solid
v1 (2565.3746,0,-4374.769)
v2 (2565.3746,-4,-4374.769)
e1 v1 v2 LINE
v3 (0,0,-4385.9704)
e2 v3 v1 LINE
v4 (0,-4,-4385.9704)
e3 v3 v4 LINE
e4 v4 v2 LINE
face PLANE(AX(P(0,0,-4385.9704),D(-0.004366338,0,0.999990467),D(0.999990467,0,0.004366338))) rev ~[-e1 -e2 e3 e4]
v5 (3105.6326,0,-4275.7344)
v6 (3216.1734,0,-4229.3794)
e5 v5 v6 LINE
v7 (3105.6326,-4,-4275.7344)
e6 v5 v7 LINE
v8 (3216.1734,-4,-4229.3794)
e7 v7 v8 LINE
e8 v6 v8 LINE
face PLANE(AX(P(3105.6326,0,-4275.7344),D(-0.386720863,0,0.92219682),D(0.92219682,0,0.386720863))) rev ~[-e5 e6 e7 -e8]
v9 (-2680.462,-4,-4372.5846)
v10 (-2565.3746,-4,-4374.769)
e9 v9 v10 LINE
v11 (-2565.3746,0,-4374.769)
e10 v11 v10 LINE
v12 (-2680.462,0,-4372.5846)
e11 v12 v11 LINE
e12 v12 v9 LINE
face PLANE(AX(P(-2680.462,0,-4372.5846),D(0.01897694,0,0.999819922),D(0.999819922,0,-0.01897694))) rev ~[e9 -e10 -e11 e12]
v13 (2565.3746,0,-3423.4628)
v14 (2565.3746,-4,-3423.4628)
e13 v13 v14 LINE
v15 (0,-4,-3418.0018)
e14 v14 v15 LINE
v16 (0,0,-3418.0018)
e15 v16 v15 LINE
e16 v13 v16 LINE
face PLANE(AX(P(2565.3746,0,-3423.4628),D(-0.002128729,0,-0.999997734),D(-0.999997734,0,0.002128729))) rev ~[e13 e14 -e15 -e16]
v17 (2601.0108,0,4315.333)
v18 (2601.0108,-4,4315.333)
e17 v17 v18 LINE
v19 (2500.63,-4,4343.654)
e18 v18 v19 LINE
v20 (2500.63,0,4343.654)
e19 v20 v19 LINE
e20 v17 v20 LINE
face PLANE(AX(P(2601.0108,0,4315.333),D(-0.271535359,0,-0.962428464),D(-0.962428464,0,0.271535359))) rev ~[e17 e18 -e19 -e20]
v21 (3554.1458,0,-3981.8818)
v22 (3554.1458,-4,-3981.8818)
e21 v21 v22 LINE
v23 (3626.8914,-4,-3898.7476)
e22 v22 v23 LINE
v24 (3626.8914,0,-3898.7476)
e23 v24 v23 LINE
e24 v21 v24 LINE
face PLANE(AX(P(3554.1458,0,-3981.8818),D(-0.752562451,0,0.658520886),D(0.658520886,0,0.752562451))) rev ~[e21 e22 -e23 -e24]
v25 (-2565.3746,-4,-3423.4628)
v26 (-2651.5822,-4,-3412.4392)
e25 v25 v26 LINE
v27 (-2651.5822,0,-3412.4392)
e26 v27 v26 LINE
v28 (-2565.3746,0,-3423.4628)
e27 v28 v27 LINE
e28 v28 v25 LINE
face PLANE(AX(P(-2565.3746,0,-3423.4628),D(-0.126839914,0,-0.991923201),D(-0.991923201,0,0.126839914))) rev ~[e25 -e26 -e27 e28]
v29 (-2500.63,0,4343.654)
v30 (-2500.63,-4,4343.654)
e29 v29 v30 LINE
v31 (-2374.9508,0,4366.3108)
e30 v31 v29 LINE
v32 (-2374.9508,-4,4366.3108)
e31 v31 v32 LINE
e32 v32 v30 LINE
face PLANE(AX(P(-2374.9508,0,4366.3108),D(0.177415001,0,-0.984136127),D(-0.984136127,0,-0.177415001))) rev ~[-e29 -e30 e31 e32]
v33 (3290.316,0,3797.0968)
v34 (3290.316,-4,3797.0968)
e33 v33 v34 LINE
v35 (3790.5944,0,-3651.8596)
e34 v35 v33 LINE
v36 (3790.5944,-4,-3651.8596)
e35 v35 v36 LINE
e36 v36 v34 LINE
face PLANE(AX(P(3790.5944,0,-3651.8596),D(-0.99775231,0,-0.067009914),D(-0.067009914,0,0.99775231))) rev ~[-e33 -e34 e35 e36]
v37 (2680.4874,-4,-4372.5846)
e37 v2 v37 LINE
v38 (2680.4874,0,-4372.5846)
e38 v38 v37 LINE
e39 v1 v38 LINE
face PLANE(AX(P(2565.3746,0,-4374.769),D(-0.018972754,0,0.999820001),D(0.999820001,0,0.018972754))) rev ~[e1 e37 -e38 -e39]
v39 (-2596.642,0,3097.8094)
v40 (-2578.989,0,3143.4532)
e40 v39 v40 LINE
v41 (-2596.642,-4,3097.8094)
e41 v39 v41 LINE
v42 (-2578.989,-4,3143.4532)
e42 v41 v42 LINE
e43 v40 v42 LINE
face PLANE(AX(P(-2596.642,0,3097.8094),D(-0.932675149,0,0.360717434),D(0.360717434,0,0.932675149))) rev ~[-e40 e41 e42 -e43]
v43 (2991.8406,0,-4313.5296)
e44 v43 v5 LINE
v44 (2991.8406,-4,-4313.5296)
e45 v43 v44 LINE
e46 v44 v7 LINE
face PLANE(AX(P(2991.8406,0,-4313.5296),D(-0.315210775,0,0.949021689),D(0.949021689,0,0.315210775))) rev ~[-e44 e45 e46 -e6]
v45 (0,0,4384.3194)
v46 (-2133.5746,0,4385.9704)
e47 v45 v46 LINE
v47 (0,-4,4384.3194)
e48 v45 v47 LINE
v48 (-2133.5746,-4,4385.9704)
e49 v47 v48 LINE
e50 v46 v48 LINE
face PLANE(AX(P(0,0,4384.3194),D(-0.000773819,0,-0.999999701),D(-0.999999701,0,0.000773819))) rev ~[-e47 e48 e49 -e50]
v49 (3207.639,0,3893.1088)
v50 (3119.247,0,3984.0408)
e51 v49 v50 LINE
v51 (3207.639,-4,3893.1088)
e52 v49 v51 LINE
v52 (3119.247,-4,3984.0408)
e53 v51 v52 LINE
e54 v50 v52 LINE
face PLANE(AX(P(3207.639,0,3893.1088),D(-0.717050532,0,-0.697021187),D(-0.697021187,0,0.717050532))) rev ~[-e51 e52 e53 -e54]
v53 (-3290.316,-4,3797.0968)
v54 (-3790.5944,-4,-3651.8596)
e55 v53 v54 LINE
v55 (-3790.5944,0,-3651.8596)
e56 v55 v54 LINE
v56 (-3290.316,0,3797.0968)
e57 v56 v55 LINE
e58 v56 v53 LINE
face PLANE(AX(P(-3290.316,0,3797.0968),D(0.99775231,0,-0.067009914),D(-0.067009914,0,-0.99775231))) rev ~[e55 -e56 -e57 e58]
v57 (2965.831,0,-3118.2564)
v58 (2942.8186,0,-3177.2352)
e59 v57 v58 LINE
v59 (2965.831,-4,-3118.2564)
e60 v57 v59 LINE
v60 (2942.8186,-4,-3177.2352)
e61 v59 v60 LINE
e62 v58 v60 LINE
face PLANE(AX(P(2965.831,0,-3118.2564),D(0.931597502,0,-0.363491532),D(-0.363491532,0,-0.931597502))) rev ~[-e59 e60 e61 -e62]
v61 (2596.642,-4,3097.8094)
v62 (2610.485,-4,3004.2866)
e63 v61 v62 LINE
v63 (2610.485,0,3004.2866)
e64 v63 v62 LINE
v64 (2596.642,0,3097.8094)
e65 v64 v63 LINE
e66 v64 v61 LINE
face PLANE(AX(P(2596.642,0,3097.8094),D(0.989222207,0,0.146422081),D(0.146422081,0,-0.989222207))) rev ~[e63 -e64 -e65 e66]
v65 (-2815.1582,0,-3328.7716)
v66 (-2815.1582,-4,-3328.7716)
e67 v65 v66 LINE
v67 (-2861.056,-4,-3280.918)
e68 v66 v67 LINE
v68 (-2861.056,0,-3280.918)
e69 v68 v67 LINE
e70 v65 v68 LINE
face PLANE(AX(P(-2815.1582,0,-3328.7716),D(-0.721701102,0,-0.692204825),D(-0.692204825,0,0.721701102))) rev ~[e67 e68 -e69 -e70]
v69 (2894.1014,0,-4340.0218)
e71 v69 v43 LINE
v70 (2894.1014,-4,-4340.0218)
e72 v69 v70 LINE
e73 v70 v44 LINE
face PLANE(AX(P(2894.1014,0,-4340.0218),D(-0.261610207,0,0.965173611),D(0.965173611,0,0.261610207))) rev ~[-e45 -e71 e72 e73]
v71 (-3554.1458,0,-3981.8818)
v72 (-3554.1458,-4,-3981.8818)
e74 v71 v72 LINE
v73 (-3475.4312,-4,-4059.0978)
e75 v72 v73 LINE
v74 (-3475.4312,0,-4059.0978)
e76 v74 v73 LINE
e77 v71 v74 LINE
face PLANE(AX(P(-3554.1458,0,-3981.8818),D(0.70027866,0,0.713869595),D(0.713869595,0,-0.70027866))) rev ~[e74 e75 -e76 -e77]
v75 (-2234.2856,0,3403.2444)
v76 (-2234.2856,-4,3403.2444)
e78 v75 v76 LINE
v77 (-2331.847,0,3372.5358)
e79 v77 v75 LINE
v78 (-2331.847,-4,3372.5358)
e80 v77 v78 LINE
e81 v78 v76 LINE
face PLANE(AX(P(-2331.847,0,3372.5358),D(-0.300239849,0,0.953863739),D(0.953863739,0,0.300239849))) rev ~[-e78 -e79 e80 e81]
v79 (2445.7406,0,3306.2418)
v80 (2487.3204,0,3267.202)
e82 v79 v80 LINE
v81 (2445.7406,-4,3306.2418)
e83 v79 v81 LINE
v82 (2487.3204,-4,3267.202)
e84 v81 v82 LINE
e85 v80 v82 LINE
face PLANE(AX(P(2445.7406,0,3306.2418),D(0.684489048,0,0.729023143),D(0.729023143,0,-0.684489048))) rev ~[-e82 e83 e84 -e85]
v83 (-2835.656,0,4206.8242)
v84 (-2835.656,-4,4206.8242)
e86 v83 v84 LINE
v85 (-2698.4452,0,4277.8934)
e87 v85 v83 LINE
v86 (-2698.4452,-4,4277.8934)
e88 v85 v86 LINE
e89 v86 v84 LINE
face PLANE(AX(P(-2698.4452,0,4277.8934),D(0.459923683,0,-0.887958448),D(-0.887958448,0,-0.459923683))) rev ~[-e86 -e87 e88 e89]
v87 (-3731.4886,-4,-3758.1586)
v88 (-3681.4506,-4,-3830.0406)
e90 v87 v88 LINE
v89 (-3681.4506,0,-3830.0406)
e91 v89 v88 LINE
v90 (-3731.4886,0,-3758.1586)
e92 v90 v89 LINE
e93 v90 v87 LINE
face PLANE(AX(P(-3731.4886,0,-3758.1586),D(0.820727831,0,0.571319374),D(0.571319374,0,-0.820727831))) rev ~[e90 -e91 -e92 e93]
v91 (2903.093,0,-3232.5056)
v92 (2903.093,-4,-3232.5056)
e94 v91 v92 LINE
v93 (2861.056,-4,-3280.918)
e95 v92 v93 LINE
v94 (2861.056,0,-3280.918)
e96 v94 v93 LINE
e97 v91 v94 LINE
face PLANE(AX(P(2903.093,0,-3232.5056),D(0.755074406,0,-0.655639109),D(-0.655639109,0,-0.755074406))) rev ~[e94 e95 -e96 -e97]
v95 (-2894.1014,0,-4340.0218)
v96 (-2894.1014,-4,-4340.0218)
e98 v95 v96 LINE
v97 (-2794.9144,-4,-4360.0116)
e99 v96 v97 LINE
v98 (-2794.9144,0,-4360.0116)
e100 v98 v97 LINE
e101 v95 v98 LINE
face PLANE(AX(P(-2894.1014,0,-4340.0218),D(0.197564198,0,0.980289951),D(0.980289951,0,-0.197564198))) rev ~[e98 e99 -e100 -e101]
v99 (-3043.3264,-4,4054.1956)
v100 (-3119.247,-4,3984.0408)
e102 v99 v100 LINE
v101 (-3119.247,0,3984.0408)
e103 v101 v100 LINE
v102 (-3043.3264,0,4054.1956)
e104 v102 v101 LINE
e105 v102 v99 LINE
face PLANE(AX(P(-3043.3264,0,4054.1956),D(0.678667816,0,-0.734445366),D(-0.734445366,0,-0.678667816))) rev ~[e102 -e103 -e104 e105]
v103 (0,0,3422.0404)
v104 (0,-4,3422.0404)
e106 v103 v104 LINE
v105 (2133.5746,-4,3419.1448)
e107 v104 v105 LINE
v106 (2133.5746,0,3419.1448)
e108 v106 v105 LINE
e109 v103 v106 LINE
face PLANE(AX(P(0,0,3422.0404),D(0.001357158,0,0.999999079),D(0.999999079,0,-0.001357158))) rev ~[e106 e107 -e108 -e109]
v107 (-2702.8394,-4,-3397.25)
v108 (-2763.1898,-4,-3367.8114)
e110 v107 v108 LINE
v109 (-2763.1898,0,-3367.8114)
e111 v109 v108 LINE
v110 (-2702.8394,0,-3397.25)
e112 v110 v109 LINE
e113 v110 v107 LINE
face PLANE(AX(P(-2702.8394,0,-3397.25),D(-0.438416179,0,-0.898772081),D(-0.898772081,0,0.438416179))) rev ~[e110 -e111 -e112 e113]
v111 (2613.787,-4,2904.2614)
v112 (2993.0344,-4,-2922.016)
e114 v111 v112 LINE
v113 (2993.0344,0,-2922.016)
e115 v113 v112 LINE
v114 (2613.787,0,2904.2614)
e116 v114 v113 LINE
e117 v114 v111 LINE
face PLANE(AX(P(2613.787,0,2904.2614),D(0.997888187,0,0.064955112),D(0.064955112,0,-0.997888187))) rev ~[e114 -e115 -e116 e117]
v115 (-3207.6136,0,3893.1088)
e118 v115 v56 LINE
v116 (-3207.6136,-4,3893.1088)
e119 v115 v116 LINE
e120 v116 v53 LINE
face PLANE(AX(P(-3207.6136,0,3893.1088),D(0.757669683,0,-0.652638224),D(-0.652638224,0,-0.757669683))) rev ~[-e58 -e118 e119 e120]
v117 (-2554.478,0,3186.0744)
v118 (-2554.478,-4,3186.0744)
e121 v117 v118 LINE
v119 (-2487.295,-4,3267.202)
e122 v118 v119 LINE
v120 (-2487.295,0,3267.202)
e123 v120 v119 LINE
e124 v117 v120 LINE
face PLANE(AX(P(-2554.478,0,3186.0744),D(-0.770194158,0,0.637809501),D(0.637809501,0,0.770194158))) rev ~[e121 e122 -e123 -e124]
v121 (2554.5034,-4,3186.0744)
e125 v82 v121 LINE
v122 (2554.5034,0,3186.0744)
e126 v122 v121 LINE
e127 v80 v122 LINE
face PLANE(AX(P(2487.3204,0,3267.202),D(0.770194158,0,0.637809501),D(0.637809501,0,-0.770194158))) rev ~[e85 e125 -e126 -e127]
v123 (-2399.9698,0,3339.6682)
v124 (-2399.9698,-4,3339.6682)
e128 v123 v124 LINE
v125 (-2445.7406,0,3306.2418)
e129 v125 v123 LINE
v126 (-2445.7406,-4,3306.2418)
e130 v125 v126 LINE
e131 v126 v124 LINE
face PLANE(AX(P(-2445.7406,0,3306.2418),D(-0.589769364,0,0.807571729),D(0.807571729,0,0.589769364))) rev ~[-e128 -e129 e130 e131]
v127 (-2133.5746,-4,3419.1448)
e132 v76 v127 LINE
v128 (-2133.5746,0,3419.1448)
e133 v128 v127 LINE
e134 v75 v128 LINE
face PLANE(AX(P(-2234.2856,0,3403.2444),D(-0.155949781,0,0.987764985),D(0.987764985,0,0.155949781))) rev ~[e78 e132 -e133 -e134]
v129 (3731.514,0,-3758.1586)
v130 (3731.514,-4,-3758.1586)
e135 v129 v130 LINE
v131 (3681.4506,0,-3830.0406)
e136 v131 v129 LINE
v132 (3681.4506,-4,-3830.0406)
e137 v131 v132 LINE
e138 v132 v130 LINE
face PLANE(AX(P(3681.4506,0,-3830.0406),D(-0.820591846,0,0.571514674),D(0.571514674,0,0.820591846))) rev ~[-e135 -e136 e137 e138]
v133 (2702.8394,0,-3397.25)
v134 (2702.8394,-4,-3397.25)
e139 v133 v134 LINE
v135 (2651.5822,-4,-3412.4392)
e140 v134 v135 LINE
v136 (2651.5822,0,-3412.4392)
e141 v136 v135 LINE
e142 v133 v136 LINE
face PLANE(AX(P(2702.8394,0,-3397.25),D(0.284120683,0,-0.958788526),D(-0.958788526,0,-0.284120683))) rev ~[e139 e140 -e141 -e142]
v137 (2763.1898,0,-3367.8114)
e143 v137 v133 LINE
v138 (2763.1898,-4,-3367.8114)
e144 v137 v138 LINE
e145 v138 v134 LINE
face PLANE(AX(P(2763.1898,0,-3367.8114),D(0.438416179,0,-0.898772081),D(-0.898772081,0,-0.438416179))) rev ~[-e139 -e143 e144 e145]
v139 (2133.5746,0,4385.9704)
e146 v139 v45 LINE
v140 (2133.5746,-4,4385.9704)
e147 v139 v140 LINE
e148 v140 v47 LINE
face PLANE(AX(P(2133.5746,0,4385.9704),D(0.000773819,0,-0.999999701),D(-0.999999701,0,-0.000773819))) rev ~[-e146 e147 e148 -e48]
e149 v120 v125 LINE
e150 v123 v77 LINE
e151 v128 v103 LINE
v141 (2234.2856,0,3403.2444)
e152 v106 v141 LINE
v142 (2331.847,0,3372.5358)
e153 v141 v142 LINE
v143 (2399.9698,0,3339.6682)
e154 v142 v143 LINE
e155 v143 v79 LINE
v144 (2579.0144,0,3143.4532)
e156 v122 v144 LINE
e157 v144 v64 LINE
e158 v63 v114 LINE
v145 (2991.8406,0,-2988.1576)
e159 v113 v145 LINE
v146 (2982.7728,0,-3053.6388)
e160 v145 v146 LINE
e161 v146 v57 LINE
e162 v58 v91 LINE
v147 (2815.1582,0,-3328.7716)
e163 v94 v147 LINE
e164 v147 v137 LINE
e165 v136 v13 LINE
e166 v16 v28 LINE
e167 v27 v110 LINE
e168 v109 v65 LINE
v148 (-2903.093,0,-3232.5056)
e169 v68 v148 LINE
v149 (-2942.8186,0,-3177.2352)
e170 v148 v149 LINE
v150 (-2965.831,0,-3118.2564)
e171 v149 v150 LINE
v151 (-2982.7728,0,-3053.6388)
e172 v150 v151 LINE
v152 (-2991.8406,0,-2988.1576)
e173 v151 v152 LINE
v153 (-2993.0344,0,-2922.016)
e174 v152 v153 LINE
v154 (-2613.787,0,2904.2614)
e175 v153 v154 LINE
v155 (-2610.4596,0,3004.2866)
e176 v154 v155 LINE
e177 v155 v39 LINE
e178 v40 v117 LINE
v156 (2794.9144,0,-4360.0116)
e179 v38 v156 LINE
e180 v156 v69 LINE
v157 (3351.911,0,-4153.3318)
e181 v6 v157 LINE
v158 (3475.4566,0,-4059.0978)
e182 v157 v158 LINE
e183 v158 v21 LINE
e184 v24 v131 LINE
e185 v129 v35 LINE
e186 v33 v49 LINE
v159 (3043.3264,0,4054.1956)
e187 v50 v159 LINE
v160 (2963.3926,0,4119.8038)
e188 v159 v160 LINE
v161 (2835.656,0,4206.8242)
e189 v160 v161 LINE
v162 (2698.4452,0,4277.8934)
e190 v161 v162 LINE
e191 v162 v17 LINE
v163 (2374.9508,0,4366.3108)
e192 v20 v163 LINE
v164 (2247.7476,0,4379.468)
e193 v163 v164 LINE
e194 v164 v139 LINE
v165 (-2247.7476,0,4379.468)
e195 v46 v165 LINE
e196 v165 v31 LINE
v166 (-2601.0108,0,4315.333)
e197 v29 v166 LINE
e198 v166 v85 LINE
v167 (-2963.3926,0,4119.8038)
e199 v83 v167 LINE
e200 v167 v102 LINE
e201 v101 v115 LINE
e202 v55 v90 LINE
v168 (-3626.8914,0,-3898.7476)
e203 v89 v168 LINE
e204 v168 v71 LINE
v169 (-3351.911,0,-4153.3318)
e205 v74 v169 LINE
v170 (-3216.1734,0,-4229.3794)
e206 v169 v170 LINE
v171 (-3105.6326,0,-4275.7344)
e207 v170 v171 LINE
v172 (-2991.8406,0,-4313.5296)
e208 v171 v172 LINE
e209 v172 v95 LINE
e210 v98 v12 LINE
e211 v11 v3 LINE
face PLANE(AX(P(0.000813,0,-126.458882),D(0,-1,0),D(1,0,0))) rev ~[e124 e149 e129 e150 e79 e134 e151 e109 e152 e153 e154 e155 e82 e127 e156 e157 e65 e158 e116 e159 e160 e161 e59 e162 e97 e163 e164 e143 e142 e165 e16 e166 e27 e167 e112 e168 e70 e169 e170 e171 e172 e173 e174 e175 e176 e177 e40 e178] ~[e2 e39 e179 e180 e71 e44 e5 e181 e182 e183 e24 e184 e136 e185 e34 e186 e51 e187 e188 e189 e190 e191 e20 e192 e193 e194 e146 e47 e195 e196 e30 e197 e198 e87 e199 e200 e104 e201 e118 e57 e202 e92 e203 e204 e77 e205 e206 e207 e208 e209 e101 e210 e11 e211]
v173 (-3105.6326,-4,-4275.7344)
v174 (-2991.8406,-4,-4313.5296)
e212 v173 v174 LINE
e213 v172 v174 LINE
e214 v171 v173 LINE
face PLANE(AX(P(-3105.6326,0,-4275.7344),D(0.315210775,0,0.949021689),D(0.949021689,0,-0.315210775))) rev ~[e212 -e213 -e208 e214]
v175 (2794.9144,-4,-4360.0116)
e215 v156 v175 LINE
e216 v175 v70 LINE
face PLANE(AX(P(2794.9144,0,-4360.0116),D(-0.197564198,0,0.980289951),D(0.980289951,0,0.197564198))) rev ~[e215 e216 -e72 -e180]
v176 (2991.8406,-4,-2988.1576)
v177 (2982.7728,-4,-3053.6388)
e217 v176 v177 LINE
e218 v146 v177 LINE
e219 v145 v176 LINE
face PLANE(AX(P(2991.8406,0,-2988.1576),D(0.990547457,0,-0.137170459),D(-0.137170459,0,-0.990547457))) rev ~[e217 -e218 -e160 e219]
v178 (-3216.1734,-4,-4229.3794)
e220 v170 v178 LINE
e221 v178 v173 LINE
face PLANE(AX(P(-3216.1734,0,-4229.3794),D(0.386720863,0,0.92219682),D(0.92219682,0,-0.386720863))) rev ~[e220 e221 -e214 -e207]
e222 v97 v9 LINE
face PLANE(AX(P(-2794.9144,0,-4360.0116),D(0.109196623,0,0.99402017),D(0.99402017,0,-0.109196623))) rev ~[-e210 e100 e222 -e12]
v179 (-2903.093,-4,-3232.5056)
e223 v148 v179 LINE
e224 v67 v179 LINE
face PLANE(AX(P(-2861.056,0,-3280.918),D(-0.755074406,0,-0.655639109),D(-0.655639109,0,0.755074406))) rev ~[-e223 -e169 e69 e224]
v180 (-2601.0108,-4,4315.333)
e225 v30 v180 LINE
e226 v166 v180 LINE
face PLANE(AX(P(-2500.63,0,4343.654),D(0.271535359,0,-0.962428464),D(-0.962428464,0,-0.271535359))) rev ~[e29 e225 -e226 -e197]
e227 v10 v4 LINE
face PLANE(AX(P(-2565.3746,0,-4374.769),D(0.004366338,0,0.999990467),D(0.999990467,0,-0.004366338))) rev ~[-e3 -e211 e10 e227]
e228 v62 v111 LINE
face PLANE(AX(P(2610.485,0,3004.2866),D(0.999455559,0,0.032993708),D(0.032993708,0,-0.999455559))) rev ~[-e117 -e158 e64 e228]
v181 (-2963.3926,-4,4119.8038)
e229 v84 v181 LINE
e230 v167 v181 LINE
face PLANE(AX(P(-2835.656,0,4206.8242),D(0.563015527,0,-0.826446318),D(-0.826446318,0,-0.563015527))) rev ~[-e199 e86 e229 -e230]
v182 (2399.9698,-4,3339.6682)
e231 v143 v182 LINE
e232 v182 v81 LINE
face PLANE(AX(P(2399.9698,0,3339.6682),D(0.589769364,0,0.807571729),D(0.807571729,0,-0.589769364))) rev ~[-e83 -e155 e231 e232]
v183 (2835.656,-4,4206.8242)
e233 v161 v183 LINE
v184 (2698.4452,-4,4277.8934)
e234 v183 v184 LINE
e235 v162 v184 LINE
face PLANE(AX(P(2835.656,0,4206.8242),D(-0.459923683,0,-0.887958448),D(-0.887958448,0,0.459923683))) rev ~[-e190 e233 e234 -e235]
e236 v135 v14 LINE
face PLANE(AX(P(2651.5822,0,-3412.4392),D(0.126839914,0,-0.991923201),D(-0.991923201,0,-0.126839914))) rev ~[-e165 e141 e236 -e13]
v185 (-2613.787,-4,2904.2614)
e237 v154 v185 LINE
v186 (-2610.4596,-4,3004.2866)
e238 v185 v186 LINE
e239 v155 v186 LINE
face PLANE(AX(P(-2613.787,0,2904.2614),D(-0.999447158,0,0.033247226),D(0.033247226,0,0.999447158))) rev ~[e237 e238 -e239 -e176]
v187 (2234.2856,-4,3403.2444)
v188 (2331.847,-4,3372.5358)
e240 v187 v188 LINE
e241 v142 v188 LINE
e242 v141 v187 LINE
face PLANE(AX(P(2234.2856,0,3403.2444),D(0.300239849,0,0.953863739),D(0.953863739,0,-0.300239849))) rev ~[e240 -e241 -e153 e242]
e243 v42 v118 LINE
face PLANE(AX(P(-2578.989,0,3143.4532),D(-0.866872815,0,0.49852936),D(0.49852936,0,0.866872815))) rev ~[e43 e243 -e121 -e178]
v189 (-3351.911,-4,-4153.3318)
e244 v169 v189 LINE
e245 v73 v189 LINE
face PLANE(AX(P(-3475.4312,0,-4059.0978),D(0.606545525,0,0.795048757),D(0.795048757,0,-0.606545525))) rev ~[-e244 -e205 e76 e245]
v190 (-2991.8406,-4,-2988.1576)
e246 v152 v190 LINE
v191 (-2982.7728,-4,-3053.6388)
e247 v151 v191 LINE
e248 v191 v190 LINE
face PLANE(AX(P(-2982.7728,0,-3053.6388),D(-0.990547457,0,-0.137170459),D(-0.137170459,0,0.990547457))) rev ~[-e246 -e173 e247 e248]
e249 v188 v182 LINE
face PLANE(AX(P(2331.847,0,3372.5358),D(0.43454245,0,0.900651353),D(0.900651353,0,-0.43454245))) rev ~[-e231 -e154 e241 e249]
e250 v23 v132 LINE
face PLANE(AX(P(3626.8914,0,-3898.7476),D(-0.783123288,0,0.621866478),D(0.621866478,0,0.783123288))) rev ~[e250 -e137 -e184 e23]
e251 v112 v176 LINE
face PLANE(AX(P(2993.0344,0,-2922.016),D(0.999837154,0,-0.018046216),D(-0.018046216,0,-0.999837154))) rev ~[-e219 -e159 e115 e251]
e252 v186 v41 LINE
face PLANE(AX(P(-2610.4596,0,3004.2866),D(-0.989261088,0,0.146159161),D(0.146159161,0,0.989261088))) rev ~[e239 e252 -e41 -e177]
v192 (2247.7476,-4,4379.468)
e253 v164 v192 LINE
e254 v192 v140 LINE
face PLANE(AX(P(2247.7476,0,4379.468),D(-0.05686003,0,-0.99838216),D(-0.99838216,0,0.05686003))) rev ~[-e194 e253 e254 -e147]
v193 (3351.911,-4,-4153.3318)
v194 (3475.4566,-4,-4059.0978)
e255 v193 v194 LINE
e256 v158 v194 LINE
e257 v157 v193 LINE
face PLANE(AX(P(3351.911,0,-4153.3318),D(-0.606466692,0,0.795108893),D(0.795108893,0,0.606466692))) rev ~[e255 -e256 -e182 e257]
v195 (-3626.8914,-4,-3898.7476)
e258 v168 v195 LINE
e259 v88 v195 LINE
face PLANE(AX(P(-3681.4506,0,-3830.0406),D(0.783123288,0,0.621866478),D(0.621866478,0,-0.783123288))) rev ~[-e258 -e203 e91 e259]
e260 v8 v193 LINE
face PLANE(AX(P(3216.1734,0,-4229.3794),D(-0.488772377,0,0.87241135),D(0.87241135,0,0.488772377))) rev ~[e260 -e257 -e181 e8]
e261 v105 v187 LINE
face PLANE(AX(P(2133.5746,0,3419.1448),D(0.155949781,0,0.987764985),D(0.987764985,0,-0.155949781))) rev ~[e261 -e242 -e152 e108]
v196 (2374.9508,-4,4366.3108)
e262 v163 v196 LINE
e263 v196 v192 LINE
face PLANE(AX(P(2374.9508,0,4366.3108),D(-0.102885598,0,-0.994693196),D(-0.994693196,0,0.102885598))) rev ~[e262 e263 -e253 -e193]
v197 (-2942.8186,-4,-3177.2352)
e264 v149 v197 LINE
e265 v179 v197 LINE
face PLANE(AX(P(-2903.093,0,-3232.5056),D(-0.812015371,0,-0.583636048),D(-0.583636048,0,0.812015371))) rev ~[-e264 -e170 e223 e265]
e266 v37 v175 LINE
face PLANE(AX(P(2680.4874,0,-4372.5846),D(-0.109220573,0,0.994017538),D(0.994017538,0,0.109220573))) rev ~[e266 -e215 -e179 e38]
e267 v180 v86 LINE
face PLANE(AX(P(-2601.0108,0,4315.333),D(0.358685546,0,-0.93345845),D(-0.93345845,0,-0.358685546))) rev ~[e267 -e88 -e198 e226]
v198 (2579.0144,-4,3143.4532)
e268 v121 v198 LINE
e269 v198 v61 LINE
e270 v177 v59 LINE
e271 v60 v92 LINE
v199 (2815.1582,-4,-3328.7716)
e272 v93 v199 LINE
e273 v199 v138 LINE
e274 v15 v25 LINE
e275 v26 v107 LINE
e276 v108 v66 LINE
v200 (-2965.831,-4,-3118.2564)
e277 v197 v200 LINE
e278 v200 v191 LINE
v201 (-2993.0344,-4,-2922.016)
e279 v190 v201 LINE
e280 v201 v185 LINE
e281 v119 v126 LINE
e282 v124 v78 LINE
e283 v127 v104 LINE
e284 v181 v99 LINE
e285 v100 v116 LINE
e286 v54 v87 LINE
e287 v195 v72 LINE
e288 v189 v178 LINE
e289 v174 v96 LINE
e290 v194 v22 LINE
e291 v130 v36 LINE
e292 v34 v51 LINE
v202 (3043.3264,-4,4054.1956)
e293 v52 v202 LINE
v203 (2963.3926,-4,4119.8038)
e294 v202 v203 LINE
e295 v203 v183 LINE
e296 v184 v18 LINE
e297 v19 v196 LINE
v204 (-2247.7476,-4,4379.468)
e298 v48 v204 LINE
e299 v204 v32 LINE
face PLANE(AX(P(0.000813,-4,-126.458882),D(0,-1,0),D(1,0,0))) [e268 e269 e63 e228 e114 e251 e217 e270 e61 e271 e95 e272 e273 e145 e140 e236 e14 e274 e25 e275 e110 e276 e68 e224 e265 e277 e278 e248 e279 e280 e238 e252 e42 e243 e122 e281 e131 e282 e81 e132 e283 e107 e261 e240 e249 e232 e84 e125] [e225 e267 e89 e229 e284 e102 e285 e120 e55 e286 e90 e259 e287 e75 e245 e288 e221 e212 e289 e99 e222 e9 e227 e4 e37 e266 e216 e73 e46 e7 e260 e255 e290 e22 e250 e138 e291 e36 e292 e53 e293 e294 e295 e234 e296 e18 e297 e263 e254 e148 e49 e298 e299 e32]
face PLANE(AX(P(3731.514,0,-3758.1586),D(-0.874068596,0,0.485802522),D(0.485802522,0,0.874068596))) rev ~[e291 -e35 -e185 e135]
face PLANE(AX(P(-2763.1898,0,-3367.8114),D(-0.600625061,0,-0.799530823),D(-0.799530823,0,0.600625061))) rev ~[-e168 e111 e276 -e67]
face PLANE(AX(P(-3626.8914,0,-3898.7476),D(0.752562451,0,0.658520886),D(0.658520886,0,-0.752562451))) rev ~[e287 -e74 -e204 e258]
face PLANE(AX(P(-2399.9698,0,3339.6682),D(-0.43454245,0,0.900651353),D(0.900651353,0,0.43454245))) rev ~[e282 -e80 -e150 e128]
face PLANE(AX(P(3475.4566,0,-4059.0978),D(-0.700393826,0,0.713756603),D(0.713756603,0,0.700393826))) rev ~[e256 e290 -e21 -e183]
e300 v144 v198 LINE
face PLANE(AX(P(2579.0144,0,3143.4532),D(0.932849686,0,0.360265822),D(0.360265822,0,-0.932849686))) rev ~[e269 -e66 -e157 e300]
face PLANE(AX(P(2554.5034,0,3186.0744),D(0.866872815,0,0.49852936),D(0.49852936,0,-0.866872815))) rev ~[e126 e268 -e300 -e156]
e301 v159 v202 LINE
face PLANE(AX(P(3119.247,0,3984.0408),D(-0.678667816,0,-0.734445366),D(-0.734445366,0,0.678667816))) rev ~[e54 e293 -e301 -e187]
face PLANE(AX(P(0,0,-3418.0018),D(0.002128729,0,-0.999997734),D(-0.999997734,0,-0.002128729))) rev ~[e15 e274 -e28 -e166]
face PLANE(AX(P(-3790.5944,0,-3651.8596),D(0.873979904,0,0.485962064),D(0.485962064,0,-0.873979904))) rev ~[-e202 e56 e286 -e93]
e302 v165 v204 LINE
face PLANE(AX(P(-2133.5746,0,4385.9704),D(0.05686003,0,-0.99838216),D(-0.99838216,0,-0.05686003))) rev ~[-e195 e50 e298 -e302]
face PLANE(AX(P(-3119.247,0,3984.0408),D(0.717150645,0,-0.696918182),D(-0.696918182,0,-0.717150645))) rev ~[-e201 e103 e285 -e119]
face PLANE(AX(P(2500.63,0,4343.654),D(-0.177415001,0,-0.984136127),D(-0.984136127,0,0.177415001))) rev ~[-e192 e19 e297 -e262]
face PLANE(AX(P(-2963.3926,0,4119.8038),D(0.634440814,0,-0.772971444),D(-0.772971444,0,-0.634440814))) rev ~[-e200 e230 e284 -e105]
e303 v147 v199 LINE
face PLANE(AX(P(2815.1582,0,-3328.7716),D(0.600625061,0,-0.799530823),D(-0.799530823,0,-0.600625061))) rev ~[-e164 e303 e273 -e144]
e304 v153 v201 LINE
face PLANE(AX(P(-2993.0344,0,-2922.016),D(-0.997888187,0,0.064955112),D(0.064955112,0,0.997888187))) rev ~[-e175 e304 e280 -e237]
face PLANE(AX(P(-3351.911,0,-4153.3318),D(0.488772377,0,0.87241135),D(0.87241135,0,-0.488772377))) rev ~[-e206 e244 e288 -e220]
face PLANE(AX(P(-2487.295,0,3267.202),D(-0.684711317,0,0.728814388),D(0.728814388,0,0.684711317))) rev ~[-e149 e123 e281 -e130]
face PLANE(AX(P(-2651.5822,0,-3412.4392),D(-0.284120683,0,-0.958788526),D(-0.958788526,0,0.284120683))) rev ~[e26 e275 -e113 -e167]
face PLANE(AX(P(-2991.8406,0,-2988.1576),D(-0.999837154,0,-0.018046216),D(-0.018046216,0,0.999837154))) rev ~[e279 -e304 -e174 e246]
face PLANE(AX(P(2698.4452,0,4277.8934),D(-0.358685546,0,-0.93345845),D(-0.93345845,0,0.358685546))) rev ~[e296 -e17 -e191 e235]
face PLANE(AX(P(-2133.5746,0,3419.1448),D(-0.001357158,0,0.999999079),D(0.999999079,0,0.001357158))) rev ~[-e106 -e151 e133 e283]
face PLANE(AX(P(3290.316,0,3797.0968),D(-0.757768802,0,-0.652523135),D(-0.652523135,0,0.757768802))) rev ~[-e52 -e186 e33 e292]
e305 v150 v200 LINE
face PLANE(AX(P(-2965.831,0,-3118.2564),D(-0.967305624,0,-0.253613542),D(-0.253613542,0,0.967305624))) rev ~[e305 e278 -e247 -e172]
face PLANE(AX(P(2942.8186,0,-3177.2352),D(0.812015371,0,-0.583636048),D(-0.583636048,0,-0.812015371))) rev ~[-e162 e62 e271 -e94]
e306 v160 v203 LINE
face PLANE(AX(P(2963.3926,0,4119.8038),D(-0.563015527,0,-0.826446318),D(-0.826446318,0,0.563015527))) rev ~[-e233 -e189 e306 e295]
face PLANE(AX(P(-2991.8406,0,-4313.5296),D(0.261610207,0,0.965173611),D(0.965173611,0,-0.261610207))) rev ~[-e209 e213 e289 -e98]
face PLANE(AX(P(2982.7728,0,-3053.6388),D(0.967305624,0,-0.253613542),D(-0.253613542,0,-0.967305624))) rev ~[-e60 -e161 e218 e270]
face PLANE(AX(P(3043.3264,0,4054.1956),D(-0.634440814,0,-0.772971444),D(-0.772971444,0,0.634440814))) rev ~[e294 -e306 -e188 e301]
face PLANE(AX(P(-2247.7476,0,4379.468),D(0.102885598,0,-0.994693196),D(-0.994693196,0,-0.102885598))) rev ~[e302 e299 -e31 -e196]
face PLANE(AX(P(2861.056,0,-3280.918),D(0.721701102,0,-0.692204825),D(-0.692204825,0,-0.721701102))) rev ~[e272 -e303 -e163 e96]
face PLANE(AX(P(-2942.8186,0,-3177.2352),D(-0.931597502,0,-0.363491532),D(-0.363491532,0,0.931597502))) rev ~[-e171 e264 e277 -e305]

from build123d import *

# Parameters (mm, degrees)
F1_DEPTH = 4


with BuildPart() as f1:
    # F0 (on Front) → F1 (new body)
    with BuildSketch(Plane.XZ):
        Polygon((-3207.6136, 3893.1088), (-3290.316, 3797.0968), (-3790.5944, -3651.8596), (-3731.4886, -3758.1586), (-3681.4506, -3830.0406), (-3626.8914, -3898.7476), (-3554.1458, -3981.8818), (-3475.4312, -4059.0978), (-3351.911, -4153.3318), (-3216.1734, -4229.3794), (-3105.6326, -4275.7344), (-2991.8406, -4313.5296), (-2894.1014, -4340.0218), (-2794.9144, -4360.0116), (-2680.462, -4372.5846), (-2565.3746, -4374.769), (0, -4385.9704), (2565.3746, -4374.769), (2680.4874, -4372.5846), (2794.9144, -4360.0116), (2894.1014, -4340.0218), (2991.8406, -4313.5296), (3105.6326, -4275.7344), (3216.1734, -4229.3794), (3351.911, -4153.3318), (3475.4566, -4059.0978), (3554.1458, -3981.8818), (3626.8914, -3898.7476), (3681.4506, -3830.0406), (3731.514, -3758.1586), (3790.5944, -3651.8596), (3290.316, 3797.0968), (3207.639, 3893.1088), (3119.247, 3984.0408), (3043.3264, 4054.1956), (2963.3926, 4119.8038), (2835.656, 4206.8242), (2698.4452, 4277.8934), (2601.0108, 4315.333), (2500.63, 4343.654), (2374.9508, 4366.3108), (2247.7476, 4379.468), (2133.5746, 4385.9704), (0, 4384.3194), (-2133.5746, 4385.9704), (-2247.7476, 4379.468), (-2374.9508, 4366.3108), (-2500.63, 4343.654), (-2601.0108, 4315.333), (-2698.4452, 4277.8934), (-2835.656, 4206.8242), (-2963.3926, 4119.8038), (-3043.3264, 4054.1956), (-3119.247, 3984.0408), align=None)
        Polygon((-2133.5746, 3419.1448), (0, 3422.0404), (2133.5746, 3419.1448), (2234.2856, 3403.2444), (2331.847, 3372.5358), (2399.9698, 3339.6682), (2445.7406, 3306.2418), (2487.3204, 3267.202), (2554.5034, 3186.0744), (2579.0144, 3143.4532), (2596.642, 3097.8094), (2610.485, 3004.2866), (2613.787, 2904.2614), (2993.0344, -2922.016), (2991.8406, -2988.1576), (2982.7728, -3053.6388), (2965.831, -3118.2564), (2942.8186, -3177.2352), (2903.093, -3232.5056), (2861.056, -3280.918), (2815.1582, -3328.7716), (2763.1898, -3367.8114), (2702.8394, -3397.25), (2651.5822, -3412.4392), (2565.3746, -3423.4628), (0, -3418.0018), (-2565.3746, -3423.4628), (-2651.5822, -3412.4392), (-2702.8394, -3397.25), (-2763.1898, -3367.8114), (-2815.1582, -3328.7716), (-2861.056, -3280.918), (-2903.093, -3232.5056), (-2942.8186, -3177.2352), (-2965.831, -3118.2564), (-2982.7728, -3053.6388), (-2991.8406, -2988.1576), (-2993.0344, -2922.016), (-2613.787, 2904.2614), (-2610.4596, 3004.2866), (-2596.642, 3097.8094), (-2578.989, 3143.4532), (-2554.478, 3186.0744), (-2487.295, 3267.202), (-2445.7406, 3306.2418), (-2399.9698, 3339.6682), (-2331.847, 3372.5358), (-2234.2856, 3403.2444), align=None, mode=Mode.SUBTRACT)
    extrude(amount=F1_DEPTH)


solid = f1.part
